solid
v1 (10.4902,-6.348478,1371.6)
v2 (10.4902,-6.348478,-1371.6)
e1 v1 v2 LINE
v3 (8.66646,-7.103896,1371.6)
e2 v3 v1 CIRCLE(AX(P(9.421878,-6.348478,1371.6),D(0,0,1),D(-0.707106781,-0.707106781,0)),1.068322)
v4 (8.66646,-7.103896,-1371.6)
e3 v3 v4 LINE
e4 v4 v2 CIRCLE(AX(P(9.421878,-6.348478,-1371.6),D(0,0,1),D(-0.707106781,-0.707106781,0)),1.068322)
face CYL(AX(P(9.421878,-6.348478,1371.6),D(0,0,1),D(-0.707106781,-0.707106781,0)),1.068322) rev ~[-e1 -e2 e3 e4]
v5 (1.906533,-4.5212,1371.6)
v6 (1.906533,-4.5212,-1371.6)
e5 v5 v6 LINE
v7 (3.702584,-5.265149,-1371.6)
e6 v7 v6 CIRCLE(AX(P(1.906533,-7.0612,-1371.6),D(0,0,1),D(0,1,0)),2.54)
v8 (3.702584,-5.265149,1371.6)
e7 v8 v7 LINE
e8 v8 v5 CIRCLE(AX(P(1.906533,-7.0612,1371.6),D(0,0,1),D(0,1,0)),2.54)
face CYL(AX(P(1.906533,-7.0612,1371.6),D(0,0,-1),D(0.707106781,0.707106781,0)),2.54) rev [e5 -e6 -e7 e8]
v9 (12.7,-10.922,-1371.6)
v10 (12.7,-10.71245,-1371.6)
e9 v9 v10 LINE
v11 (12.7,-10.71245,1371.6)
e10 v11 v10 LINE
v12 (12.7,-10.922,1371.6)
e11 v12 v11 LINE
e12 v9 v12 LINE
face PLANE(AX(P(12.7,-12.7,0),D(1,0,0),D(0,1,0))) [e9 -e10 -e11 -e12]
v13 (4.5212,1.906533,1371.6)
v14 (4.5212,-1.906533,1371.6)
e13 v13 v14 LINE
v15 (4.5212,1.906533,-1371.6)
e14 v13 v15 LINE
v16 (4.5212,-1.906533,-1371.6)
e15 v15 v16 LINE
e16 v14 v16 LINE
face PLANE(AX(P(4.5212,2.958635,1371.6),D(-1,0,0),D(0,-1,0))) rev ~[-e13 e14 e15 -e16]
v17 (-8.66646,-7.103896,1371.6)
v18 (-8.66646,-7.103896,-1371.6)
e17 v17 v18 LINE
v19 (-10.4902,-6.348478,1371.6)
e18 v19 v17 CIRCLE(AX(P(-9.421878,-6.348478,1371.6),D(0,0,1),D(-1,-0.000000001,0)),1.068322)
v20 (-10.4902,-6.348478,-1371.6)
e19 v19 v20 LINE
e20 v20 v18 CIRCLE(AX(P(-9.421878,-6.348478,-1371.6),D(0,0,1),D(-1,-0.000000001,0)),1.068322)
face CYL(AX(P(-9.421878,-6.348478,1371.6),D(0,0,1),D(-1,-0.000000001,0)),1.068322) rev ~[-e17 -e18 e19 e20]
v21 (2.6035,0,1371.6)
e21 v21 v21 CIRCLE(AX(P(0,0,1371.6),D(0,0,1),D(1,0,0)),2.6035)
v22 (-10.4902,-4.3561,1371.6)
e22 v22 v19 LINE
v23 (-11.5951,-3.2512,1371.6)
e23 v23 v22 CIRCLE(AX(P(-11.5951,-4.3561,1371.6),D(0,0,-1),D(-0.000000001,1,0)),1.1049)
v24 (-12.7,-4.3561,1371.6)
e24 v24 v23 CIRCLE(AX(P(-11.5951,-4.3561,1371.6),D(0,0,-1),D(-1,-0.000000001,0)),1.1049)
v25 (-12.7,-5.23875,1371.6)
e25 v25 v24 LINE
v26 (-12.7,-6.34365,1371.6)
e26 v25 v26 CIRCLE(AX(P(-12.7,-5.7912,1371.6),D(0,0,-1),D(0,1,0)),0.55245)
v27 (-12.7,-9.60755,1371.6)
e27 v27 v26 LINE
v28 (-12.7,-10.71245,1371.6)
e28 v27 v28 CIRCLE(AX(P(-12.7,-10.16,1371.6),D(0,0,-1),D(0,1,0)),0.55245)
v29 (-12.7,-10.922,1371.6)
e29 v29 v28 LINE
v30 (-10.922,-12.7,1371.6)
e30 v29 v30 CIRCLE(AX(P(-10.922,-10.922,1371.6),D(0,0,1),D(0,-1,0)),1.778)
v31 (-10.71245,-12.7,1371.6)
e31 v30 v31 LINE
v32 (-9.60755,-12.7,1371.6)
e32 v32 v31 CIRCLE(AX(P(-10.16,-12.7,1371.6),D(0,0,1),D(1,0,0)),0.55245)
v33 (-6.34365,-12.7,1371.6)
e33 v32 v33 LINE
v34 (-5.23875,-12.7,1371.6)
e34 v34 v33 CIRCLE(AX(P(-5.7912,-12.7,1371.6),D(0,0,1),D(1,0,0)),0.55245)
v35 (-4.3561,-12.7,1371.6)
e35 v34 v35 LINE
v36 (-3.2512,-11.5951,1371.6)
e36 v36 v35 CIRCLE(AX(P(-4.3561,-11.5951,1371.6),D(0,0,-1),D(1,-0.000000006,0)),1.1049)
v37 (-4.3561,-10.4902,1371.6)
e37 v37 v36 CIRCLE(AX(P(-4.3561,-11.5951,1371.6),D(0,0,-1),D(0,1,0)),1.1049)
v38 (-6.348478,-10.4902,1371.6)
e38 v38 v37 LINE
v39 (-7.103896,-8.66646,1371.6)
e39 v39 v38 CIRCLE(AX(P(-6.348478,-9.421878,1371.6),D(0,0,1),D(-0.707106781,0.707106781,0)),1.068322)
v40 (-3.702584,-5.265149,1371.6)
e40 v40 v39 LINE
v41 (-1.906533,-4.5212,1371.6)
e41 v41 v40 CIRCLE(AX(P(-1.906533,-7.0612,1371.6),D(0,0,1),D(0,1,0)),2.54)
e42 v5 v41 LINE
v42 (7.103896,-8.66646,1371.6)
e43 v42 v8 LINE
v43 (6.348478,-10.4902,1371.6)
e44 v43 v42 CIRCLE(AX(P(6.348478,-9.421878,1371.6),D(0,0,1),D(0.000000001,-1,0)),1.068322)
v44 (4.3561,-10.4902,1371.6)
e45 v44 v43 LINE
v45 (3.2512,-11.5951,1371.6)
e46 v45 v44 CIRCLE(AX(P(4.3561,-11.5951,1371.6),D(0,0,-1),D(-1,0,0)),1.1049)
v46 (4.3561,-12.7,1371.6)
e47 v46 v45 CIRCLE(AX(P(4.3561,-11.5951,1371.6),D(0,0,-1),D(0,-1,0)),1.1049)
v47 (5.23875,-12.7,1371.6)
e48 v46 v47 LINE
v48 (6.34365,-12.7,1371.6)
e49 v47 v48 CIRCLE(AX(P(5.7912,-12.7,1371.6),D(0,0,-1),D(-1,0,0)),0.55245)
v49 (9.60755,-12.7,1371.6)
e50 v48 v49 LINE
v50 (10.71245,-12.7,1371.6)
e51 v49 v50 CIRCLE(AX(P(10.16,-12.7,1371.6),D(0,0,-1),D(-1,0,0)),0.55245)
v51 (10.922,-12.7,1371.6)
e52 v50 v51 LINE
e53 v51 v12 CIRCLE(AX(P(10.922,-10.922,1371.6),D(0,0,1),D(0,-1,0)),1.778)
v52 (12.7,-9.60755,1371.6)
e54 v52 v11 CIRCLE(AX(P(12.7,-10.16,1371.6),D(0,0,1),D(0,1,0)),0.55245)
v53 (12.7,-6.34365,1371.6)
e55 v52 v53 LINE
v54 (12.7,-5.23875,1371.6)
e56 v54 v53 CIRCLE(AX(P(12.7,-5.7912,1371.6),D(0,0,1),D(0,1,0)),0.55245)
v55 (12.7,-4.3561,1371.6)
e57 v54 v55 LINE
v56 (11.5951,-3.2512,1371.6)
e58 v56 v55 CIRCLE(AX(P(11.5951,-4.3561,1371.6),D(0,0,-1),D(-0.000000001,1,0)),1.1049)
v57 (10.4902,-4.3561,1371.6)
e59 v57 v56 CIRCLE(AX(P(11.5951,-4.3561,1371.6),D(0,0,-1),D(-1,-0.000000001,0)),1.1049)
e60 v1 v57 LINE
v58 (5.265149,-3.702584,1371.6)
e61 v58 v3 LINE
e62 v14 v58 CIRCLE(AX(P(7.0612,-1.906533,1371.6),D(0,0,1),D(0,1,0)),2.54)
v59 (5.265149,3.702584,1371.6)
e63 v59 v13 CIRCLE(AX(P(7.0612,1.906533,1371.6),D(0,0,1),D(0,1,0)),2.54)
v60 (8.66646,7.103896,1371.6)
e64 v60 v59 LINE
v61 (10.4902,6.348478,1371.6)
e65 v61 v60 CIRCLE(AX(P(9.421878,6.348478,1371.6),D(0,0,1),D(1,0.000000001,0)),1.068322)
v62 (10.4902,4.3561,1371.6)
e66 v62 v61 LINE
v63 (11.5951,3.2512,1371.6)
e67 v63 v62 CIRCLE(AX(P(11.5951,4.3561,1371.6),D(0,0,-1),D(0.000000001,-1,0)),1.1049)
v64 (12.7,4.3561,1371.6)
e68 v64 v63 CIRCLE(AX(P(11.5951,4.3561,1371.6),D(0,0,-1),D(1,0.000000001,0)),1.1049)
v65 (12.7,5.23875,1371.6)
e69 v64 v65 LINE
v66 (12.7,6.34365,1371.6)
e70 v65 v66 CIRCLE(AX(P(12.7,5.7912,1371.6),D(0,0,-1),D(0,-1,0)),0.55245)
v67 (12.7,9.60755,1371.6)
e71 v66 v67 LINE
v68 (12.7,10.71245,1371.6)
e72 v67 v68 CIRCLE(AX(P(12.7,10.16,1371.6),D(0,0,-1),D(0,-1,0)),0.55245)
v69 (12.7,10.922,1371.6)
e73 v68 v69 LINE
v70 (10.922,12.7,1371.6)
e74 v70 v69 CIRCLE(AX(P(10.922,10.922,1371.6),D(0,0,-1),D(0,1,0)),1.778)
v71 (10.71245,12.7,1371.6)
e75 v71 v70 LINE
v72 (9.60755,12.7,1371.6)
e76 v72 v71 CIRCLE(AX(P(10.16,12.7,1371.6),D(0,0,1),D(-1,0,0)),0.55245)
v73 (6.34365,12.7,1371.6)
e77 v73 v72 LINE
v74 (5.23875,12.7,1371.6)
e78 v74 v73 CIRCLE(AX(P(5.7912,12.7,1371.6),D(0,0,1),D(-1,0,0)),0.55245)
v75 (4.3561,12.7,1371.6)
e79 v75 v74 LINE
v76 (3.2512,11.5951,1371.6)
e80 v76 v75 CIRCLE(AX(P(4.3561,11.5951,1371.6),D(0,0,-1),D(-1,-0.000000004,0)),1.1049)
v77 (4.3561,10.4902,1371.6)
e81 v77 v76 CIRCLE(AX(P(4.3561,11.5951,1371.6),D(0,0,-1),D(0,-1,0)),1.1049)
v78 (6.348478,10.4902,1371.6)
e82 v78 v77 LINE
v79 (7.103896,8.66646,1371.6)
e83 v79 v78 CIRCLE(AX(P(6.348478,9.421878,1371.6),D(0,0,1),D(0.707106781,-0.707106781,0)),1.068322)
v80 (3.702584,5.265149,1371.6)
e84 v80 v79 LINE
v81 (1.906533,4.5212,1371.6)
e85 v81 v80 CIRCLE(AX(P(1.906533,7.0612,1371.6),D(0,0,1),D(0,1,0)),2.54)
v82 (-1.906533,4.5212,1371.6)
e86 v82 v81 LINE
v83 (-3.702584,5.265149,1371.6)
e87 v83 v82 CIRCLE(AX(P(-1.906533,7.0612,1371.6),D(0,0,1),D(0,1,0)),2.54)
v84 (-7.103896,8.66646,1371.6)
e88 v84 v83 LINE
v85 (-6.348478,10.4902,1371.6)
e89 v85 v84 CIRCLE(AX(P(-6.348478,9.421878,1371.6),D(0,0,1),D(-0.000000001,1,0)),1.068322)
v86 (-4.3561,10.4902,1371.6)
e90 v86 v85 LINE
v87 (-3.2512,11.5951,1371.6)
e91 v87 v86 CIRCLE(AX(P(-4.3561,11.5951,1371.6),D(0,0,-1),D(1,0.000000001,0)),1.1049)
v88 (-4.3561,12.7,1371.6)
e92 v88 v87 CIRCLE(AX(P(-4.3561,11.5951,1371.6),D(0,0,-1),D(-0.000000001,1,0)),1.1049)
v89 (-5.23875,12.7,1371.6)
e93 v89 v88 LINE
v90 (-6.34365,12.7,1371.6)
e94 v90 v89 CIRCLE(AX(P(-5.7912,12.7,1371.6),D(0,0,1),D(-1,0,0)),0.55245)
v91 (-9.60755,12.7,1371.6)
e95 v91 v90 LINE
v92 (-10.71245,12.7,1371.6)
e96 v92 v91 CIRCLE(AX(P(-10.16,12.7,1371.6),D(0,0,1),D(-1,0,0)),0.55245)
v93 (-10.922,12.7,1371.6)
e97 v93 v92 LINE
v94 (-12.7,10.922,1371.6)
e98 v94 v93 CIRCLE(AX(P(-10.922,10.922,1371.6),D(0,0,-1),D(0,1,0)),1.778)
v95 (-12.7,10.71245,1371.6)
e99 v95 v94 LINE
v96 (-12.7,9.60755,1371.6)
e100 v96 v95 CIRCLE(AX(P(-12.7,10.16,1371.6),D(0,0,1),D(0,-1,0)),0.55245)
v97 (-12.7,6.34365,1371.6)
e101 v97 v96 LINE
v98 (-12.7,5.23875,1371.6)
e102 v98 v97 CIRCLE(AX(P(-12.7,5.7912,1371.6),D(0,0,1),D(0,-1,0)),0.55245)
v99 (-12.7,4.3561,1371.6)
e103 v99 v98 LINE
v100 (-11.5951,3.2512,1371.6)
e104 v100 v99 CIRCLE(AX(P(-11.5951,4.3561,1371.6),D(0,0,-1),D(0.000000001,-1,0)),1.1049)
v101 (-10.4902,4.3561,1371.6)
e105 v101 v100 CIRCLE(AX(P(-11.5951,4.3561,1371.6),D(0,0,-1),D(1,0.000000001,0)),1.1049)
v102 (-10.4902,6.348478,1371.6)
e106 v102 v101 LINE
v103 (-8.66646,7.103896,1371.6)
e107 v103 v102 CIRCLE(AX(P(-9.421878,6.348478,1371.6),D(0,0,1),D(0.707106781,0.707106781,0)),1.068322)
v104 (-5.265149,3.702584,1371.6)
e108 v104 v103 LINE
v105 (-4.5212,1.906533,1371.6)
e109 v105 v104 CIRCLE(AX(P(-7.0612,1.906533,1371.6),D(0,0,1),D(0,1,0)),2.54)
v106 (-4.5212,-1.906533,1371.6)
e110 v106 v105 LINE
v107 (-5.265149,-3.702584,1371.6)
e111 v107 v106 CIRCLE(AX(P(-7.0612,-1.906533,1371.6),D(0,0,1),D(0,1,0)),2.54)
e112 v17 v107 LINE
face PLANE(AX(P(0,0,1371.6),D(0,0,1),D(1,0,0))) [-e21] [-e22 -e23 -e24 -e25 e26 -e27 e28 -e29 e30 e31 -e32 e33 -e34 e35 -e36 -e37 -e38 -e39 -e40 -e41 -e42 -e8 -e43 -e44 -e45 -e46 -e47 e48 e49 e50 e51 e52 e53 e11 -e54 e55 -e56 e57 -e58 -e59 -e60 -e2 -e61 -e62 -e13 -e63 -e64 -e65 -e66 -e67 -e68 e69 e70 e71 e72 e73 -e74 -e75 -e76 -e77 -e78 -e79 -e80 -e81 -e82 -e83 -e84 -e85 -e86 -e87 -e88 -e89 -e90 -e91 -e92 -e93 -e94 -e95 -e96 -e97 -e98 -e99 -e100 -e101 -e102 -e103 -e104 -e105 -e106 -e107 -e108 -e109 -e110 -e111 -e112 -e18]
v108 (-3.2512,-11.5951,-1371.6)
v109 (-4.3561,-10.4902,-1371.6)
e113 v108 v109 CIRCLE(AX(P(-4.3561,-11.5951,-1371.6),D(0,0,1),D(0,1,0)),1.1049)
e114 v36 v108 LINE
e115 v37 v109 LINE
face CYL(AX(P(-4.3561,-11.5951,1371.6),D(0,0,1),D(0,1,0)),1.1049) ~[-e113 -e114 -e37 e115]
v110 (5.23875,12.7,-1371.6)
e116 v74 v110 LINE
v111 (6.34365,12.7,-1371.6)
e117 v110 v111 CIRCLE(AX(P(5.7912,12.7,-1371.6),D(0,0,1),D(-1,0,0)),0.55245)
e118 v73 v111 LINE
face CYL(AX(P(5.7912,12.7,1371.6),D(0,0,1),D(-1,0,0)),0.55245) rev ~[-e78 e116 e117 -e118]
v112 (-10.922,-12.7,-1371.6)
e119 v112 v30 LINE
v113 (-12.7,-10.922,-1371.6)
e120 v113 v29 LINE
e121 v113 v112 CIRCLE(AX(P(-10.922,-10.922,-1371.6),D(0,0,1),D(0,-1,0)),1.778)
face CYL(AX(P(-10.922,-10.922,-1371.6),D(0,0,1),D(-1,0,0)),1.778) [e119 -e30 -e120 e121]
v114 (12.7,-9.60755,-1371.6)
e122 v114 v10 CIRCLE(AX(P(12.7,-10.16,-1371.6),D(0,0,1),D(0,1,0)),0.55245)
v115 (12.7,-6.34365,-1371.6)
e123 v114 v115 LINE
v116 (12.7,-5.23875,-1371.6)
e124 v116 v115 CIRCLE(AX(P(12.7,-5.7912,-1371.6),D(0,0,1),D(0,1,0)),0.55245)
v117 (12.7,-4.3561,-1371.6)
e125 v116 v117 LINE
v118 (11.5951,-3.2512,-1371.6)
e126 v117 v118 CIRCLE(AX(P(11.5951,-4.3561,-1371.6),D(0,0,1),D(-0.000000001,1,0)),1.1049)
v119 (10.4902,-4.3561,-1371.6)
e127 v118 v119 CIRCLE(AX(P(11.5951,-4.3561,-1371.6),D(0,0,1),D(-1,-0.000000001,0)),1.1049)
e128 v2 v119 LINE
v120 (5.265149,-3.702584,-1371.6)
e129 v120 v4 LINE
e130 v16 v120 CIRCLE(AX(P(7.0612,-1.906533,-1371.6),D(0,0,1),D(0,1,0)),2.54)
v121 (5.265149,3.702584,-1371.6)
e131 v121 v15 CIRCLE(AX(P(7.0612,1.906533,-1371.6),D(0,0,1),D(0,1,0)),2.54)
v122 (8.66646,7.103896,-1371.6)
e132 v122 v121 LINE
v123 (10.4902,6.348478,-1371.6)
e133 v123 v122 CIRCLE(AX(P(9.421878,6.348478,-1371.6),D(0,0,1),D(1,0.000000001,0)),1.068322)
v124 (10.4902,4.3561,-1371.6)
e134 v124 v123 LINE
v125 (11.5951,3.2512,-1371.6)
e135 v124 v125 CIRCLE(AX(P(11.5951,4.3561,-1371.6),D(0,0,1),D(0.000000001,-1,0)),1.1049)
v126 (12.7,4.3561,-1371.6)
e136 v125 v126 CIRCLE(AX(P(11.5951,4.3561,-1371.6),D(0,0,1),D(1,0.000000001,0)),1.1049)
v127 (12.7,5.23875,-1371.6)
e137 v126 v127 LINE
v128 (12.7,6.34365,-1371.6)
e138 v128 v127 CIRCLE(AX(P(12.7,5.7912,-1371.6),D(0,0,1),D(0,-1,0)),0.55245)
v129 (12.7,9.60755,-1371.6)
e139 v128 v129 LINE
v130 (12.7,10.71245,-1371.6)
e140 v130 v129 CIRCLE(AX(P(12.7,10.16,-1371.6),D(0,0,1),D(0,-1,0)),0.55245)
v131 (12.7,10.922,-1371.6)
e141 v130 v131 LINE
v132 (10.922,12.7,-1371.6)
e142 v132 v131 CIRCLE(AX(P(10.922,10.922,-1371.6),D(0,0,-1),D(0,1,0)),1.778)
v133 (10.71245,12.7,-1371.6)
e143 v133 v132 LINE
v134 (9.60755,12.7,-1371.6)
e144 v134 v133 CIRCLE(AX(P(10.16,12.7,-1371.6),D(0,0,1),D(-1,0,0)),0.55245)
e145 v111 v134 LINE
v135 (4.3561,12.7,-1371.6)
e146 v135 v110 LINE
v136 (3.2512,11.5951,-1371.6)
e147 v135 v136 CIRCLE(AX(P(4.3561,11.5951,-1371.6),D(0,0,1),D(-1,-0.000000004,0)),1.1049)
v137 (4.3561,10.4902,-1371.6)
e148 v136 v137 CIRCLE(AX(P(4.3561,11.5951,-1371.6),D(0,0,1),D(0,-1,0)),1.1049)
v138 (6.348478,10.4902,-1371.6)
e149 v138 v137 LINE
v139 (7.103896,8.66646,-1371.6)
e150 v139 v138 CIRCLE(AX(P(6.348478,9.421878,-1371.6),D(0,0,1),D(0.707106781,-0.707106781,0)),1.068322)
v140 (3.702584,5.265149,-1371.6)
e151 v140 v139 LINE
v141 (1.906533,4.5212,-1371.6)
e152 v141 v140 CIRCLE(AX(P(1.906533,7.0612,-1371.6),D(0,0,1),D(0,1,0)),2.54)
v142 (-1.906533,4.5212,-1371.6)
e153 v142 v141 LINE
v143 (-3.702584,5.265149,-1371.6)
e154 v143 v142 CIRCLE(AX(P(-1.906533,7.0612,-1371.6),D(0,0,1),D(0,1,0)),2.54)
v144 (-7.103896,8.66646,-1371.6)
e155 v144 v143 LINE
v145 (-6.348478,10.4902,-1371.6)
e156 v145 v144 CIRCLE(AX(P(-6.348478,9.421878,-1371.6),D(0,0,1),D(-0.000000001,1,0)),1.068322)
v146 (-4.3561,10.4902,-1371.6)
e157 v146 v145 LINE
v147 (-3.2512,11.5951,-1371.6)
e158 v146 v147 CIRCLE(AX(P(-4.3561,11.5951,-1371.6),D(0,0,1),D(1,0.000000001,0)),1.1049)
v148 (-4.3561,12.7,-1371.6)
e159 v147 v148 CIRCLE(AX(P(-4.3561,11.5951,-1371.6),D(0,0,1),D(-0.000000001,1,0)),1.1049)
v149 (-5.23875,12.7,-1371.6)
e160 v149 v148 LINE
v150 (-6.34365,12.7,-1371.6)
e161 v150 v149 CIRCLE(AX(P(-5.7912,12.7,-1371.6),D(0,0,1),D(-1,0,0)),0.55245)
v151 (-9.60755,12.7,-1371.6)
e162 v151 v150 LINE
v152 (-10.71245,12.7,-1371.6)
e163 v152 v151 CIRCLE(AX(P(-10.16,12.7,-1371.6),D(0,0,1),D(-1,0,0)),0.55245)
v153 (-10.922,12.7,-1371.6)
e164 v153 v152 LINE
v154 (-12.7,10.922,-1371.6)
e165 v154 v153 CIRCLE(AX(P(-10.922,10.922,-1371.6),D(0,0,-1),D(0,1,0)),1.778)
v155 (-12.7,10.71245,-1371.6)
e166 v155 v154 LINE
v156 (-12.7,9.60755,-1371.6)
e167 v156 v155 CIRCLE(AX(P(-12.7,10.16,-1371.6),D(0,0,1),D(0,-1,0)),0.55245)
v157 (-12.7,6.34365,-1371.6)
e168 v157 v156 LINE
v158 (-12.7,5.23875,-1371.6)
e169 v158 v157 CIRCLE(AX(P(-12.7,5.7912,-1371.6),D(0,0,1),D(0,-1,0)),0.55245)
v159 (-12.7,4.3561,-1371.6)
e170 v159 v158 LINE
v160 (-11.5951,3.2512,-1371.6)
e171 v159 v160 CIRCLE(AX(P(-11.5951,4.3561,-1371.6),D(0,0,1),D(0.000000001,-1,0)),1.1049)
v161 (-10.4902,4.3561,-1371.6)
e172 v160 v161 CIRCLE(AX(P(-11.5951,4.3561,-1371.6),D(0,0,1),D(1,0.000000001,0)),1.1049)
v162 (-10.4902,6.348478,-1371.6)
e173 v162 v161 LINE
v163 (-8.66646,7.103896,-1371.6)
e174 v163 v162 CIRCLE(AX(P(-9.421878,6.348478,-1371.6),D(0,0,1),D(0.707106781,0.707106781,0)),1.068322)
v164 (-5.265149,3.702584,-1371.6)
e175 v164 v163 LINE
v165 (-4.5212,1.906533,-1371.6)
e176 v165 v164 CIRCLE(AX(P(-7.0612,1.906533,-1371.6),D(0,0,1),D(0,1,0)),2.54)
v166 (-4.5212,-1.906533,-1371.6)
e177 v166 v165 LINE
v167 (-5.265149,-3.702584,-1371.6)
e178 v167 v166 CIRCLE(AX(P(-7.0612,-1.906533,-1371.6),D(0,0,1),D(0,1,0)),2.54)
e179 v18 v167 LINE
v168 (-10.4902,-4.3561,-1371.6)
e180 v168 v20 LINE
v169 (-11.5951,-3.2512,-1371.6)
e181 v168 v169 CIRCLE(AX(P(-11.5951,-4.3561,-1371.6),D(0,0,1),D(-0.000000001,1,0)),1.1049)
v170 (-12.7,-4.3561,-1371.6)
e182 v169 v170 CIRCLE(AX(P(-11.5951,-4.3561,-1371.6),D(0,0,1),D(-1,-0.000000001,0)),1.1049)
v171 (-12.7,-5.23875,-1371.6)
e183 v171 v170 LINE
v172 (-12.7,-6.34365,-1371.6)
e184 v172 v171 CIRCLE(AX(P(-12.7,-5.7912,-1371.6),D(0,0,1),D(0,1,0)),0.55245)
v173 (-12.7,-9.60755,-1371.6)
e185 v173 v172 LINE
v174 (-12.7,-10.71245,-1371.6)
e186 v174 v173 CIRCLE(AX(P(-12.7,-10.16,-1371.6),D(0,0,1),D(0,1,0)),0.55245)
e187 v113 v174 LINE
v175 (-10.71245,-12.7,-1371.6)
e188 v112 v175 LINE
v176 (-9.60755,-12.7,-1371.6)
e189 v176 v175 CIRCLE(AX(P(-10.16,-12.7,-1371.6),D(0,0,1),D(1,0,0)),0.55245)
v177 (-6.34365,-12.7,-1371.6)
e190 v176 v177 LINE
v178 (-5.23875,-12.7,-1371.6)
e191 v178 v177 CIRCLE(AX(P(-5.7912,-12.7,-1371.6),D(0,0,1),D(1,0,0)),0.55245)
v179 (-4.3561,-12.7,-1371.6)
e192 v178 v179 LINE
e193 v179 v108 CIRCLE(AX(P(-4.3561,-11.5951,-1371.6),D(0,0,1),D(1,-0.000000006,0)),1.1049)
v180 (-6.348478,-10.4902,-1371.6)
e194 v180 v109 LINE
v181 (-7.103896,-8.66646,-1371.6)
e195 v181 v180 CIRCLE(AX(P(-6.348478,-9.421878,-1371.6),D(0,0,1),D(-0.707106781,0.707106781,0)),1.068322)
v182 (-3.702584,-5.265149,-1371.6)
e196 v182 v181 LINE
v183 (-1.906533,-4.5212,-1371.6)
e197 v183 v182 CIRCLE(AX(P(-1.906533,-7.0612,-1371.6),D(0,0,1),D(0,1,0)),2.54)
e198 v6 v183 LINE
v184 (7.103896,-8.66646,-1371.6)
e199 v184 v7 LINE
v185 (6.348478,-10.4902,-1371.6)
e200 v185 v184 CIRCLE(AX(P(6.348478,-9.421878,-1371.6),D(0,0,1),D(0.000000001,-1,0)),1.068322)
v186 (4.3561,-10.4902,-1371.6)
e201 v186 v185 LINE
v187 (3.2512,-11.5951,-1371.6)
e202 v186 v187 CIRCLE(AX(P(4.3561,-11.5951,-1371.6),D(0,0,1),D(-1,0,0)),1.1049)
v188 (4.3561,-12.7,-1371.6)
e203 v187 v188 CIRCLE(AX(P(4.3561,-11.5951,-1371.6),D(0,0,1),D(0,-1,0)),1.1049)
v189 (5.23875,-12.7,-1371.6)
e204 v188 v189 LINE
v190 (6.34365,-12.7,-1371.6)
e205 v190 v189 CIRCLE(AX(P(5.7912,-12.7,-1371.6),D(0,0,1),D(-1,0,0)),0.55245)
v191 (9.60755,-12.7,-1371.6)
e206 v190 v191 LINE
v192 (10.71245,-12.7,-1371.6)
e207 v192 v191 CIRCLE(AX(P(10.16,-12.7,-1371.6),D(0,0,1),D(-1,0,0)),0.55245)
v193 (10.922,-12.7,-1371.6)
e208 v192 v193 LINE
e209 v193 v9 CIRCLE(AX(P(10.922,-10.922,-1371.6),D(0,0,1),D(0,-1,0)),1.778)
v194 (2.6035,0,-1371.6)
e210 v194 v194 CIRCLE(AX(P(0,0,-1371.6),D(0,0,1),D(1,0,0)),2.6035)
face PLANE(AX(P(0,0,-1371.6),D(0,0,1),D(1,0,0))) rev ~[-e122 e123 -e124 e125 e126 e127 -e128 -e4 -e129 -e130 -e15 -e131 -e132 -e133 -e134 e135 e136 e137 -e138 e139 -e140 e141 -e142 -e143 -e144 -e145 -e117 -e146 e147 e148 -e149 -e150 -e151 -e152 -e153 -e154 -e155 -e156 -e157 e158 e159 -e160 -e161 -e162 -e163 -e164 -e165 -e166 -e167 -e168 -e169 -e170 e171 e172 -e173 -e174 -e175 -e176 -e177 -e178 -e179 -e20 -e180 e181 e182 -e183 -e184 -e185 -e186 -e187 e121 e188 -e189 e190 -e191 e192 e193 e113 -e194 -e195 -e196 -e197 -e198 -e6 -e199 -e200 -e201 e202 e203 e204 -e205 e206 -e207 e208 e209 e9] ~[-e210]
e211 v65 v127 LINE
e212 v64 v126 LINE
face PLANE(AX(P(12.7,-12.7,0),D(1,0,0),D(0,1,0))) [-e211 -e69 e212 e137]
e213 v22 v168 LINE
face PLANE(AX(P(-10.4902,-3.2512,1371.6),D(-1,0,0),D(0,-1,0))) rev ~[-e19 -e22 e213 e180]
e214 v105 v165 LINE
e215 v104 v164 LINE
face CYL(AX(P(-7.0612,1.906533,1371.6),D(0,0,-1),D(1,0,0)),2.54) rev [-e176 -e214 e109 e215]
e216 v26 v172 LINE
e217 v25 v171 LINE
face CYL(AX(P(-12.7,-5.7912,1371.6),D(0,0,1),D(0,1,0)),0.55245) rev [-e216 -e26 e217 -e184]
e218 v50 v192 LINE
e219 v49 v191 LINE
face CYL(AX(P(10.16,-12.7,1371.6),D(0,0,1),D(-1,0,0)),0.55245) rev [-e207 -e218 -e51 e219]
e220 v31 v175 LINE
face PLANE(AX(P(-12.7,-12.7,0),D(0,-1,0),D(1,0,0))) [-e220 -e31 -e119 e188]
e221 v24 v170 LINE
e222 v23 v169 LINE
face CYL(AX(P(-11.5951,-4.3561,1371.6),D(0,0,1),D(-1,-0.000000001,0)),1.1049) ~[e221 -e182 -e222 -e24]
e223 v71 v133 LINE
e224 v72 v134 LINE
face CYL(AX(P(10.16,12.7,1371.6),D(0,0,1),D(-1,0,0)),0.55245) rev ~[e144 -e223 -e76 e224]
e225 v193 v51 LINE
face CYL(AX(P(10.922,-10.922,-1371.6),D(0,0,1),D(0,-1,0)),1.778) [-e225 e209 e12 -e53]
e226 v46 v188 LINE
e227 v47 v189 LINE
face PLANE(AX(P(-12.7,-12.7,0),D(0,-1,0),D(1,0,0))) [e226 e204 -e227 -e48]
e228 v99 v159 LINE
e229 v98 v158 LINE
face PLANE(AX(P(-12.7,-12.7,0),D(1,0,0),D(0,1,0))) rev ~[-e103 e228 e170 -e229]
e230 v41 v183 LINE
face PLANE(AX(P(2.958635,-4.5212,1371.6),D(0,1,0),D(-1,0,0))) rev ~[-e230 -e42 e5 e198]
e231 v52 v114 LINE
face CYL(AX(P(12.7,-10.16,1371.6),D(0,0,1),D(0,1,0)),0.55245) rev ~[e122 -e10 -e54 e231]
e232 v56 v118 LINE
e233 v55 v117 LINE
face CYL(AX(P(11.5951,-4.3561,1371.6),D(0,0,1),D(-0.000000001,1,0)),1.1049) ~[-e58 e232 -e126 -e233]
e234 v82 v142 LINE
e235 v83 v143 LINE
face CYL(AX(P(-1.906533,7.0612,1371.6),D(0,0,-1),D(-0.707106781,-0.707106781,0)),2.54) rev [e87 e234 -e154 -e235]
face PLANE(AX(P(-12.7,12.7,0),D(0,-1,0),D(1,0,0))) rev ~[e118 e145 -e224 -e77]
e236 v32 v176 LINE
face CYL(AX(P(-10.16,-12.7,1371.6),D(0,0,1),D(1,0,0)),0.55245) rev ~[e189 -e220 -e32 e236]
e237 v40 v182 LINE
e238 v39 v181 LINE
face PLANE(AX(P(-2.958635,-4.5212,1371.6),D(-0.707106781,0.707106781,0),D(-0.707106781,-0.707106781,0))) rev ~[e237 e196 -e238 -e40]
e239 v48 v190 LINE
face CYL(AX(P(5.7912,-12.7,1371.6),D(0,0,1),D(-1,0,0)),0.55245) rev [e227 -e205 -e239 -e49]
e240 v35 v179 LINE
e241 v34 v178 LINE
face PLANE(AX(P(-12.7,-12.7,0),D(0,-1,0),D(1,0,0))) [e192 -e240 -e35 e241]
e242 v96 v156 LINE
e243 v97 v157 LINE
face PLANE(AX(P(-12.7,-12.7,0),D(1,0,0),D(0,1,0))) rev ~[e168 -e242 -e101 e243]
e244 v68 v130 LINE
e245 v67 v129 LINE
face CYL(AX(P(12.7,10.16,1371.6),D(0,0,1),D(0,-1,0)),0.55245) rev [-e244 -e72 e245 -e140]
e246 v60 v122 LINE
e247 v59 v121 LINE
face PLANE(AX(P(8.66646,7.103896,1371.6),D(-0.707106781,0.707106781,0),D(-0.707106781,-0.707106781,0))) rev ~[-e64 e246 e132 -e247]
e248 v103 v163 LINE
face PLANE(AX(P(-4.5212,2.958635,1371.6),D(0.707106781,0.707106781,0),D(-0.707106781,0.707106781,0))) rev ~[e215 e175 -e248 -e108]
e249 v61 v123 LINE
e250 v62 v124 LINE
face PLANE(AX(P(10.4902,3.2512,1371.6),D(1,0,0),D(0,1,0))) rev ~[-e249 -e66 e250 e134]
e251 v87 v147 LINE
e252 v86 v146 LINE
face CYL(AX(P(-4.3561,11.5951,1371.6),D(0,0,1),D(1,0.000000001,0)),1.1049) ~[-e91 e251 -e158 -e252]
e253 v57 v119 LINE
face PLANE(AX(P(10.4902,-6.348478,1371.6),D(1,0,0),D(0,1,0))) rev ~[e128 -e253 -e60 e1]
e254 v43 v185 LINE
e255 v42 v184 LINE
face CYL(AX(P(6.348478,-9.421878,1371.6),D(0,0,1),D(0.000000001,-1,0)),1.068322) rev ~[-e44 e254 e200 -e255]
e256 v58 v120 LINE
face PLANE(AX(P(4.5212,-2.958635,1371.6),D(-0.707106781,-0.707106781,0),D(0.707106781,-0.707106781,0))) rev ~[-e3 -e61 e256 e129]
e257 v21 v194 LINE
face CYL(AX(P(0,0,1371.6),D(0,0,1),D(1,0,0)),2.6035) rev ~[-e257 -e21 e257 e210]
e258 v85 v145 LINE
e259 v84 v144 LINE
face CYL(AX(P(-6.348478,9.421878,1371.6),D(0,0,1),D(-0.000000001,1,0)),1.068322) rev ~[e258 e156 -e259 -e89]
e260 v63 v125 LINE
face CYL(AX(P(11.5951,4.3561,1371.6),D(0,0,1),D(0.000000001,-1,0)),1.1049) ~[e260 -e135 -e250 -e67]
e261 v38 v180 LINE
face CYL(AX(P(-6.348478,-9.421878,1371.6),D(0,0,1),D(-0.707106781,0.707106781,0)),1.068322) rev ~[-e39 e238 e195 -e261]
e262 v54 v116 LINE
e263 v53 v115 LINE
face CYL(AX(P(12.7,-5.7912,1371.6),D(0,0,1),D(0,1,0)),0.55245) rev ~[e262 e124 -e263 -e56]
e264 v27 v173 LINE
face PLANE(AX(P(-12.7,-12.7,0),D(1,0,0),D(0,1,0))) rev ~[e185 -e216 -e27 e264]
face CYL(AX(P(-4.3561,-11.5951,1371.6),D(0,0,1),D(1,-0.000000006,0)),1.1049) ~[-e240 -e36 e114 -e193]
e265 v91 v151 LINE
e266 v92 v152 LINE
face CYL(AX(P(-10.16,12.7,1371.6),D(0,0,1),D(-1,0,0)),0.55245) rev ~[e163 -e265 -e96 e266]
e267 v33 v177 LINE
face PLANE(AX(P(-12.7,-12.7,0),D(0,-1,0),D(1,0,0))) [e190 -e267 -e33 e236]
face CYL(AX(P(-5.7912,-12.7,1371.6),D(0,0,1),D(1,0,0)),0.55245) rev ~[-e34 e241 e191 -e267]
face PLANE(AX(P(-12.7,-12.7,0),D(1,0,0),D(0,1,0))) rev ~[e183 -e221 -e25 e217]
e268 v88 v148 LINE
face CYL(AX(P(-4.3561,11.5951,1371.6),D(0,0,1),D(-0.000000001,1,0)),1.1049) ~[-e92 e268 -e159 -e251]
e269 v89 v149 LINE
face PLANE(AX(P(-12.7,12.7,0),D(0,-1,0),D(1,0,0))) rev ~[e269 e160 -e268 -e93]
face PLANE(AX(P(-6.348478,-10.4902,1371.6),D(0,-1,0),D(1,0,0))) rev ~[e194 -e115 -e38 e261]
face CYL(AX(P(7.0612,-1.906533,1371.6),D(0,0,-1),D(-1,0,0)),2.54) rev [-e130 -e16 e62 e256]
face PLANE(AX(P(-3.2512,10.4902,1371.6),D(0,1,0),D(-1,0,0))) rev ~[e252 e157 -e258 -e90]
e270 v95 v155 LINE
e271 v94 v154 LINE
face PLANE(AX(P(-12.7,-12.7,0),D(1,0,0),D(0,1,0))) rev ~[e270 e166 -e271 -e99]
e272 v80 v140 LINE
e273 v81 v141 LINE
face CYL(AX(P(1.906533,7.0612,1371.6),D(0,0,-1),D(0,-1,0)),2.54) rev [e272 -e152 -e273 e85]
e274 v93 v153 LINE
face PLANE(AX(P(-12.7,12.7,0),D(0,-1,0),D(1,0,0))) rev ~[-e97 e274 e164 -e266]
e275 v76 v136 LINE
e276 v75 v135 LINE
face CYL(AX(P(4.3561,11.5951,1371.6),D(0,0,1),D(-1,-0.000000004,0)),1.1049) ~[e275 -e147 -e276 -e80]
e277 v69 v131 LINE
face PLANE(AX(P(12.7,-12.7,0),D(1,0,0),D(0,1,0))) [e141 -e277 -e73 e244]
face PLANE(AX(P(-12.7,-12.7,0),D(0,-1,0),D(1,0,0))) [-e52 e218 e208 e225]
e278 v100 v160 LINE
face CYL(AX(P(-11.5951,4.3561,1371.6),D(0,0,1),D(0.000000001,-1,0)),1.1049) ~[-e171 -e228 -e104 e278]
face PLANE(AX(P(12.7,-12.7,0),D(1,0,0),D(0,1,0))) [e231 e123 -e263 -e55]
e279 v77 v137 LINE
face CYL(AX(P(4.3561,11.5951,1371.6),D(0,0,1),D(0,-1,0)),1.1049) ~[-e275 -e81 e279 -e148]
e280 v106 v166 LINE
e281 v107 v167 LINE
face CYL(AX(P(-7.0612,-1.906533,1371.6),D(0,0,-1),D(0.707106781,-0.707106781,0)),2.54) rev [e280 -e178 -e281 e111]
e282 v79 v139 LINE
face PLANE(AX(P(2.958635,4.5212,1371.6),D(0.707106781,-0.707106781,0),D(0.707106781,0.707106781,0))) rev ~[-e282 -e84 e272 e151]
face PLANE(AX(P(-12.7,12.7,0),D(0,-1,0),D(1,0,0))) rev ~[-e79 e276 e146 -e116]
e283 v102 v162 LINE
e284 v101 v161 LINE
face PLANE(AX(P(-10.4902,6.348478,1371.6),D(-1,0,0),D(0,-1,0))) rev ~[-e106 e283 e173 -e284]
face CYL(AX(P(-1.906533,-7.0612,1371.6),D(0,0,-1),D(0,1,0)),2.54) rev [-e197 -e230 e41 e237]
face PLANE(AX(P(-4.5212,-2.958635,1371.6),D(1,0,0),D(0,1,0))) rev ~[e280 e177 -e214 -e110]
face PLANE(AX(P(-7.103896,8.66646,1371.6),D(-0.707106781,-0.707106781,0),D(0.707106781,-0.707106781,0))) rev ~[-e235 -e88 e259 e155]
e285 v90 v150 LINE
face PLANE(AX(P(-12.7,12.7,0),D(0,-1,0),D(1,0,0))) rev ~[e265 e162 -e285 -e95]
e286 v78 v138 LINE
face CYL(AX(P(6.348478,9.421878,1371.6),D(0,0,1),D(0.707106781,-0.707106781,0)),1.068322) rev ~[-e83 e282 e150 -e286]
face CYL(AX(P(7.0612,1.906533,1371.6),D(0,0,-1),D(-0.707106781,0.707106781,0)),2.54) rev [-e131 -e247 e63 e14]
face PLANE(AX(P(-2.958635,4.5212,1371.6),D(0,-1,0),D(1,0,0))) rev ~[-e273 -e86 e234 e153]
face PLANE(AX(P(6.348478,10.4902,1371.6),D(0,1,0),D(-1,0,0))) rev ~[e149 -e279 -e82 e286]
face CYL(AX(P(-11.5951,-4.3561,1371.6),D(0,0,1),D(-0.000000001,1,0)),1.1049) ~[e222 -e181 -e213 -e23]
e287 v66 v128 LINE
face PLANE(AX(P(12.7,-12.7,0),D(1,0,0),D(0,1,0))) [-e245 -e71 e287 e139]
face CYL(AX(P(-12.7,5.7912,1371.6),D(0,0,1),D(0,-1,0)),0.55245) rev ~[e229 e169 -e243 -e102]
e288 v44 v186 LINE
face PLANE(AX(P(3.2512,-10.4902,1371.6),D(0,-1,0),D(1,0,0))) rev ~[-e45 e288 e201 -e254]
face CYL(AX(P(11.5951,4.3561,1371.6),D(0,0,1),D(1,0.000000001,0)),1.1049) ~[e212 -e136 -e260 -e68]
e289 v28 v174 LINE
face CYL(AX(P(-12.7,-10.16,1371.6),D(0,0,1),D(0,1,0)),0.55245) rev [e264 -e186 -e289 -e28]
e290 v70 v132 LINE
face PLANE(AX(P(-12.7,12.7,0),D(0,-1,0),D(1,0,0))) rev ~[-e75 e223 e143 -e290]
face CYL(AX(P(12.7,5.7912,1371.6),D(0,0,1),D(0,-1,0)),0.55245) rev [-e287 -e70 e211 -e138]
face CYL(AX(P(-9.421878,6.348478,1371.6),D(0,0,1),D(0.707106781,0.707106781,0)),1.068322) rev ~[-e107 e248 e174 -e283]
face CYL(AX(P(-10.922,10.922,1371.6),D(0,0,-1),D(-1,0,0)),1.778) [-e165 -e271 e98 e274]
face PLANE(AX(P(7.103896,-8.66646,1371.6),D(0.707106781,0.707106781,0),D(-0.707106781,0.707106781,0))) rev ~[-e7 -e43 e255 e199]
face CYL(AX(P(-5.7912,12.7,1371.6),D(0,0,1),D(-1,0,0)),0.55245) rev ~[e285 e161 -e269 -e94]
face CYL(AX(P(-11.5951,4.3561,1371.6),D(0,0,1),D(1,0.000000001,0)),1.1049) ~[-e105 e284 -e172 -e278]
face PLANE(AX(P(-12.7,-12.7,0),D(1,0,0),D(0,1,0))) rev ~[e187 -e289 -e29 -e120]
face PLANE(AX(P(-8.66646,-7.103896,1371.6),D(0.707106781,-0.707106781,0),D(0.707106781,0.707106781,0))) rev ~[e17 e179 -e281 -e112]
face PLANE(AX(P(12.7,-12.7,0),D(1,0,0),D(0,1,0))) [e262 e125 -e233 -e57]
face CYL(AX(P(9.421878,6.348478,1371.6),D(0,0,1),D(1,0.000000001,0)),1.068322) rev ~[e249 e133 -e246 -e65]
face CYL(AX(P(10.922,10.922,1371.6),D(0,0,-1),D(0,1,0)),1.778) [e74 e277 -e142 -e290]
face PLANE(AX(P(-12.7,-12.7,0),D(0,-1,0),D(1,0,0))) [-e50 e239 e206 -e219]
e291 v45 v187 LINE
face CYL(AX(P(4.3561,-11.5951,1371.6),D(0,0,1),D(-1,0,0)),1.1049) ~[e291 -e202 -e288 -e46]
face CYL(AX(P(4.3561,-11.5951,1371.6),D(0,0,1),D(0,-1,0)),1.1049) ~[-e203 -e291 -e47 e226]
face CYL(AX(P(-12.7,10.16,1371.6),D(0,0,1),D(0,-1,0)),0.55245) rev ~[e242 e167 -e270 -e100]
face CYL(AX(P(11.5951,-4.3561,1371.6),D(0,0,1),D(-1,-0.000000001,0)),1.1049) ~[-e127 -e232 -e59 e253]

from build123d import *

# Parameters (mm, degrees)
SKETCH3_W                = 25.4
SKETCH3_H                = 25.4
BOSS_EXTRUDE1_DEPTH      = 1371.6
BOSS_EXTRUDE1_DEPTH_BACK = 1371.6
SKETCH4_R                = 2.6035
CUT_EXTRUDE1_DEPTH       = 2744.2
CUT_EXTRUDE2_DEPTH       = 2744.2
FILLET1_R                = 2.54
FILLET2_R                = 1.778


with BuildPart() as part:
    # Sketch3 → Boss-Extrude1 (new body, two sides)
    with BuildSketch(Plane.XY) as boss_extrude1_sk:
        Rectangle(SKETCH3_W, SKETCH3_H)
    extrude(amount=BOSS_EXTRUDE1_DEPTH)
    extrude(boss_extrude1_sk.sketch, amount=-BOSS_EXTRUDE1_DEPTH_BACK)

    # Sketch4 → Cut-Extrude1 (cut, through all)
    with BuildSketch(Plane.XY.offset(1371.6)):
        with BuildLine():
            Line((3.2512, 12.7), (-3.2512, 12.7))
            Line((-3.2512, 12.7), (-3.2512, 10.4902))
            Line((-3.2512, 10.4902), (-6.348478019, 10.4902))
            ThreePointArc((-6.348478019, 10.4902), (-7.335478831, 9.830707141), (-7.103895736, 8.666460301))
            Line((-7.103895736, 8.666460301), (-2.958635435, 4.5212))
            Line((-2.958635435, 4.5212), (2.958635435, 4.5212))
            Line((2.958635435, 4.5212), (7.103895736, 8.666460301))
            ThreePointArc((7.103895736, 8.666460301), (7.335478831, 9.830707141), (6.348478019, 10.4902))
            Line((6.348478019, 10.4902), (3.2512, 10.4902))
            Line((3.2512, 10.4902), (3.2512, 12.7))
        make_face()
        with BuildLine():
            Line((12.7, -3.2512), (12.7, 3.2512))
            Line((12.7, 3.2512), (10.4902, 3.2512))
            Line((10.4902, 3.2512), (10.4902, 6.348478019))
            ThreePointArc((10.4902, 6.348478019), (9.830707141, 7.335478831), (8.666460301, 7.103895736))
            Line((8.666460301, 7.103895736), (4.5212, 2.958635435))
            Line((4.5212, 2.958635435), (4.5212, -2.958635435))
            Line((4.5212, -2.958635435), (8.666460301, -7.103895736))
            ThreePointArc((8.666460301, -7.103895736), (9.830707141, -7.335478831), (10.4902, -6.348478019))
            Line((10.4902, -6.348478019), (10.4902, -3.2512))
            Line((10.4902, -3.2512), (12.7, -3.2512))
        make_face()
        with BuildLine():
            Line((-3.2512, -10.4902), (-3.2512, -12.7))
            Line((-3.2512, -12.7), (3.2512, -12.7))
            Line((3.2512, -12.7), (3.2512, -10.4902))
            Line((3.2512, -10.4902), (6.348478019, -10.4902))
            ThreePointArc((6.348478019, -10.4902), (7.335478831, -9.830707141), (7.103895736, -8.666460301))
            Line((7.103895736, -8.666460301), (2.958635435, -4.5212))
            Line((2.958635435, -4.5212), (-2.958635435, -4.5212))
            Line((-2.958635435, -4.5212), (-7.103895736, -8.666460301))
            ThreePointArc((-7.103895736, -8.666460301), (-7.335478831, -9.830707141), (-6.348478019, -10.4902))
            Line((-6.348478019, -10.4902), (-3.2512, -10.4902))
        make_face()
        with BuildLine():
            Line((-10.4902, 3.2512), (-12.7, 3.2512))
            Line((-12.7, 3.2512), (-12.7, -3.2512))
            Line((-12.7, -3.2512), (-10.4902, -3.2512))
            Line((-10.4902, -3.2512), (-10.4902, -6.348478019))
            ThreePointArc((-10.4902, -6.348478019), (-9.830707141, -7.335478831), (-8.666460301, -7.103895736))
            Line((-8.666460301, -7.103895736), (-4.5212, -2.958635435))
            Line((-4.5212, -2.958635435), (-4.5212, 2.958635435))
            Line((-4.5212, 2.958635435), (-8.666460301, 7.103895736))
            ThreePointArc((-8.666460301, 7.103895736), (-9.830707141, 7.335478831), (-10.4902, 6.348478019))
            Line((-10.4902, 6.348478019), (-10.4902, 3.2512))
        make_face()
        Circle(SKETCH4_R)
    extrude(amount=-CUT_EXTRUDE1_DEPTH, mode=Mode.SUBTRACT)

    # Sketch5 → Cut-Extrude2 (cut, through all)
    with BuildSketch(Plane.XY.offset(1371.6)):
        with BuildLine():
            ThreePointArc((-11.5951, 3.2512), (-12.376382283, 3.574817717), (-12.7, 4.3561))
            Line((-12.7, 4.3561), (-12.7, 3.2512))
            Line((-12.7, 3.2512), (-11.5951, 3.2512))
        make_face()
        with BuildLine():
            ThreePointArc((-10.4902, 4.3561), (-10.813817717, 3.574817717), (-11.5951, 3.2512))
            Line((-11.5951, 3.2512), (-10.4902, 3.2512))
            Line((-10.4902, 3.2512), (-10.4902, 4.3561))
        make_face()
        with BuildLine():
            Line((-12.7, -3.2512), (-12.7, -4.3561))
            ThreePointArc((-12.7, -4.3561), (-12.376382283, -3.574817717), (-11.5951, -3.2512))
            Line((-11.5951, -3.2512), (-12.7, -3.2512))
        make_face()
        with BuildLine():
            Line((-10.4902, -3.2512), (-11.5951, -3.2512))
            ThreePointArc((-11.5951, -3.2512), (-10.813817717, -3.574817717), (-10.4902, -4.3561))
            Line((-10.4902, -4.3561), (-10.4902, -3.2512))
        make_face()
        with BuildLine():
            Line((-3.2512, -11.595100007), (-3.2512, -10.4902))
            Line((-3.2512, -10.4902), (-4.3561, -10.4902))
            ThreePointArc((-4.3561, -10.4902), (-3.574817715, -10.81381772), (-3.2512, -11.595100007))
        make_face()
        with BuildLine():
            Line((-3.2512, -12.7), (-3.2512, -11.595100007))
            ThreePointArc((-3.2512, -11.595100007), (-3.57481772, -12.376382285), (-4.3561, -12.7))
            Line((-4.3561, -12.7), (-3.2512, -12.7))
        make_face()
        with BuildLine():
            Line((3.2512, -10.4902), (3.2512, -11.5951))
            ThreePointArc((3.2512, -11.5951), (3.574817718, -10.813817717), (4.3561, -10.4902))
            Line((4.3561, -10.4902), (3.2512, -10.4902))
        make_face()
        with BuildLine():
            Line((3.2512, -12.7), (4.3561, -12.7))
            ThreePointArc((4.3561, -12.7), (3.574817717, -12.376382282), (3.2512, -11.5951))
            Line((3.2512, -11.5951), (3.2512, -12.7))
        make_face()
        with BuildLine():
            Line((11.5951, -3.2512), (10.4902, -3.2512))
            Line((10.4902, -3.2512), (10.4902, -4.3561))
            ThreePointArc((10.4902, -4.3561), (10.813817717, -3.574817717), (11.5951, -3.2512))
        make_face()
        with BuildLine():
            Line((12.7, -3.2512), (11.5951, -3.2512))
            ThreePointArc((11.5951, -3.2512), (12.376382283, -3.574817717), (12.7, -4.3561))
            Line((12.7, -4.3561), (12.7, -3.2512))
        make_face()
        with BuildLine():
            Line((10.4902, 3.2512), (11.5951, 3.2512))
            ThreePointArc((11.5951, 3.2512), (10.813817717, 3.574817717), (10.4902, 4.3561))
            Line((10.4902, 4.3561), (10.4902, 3.2512))
        make_face()
        with BuildLine():
            Line((12.7, 3.2512), (12.7, 4.3561))
            ThreePointArc((12.7, 4.3561), (12.376382283, 3.574817717), (11.5951, 3.2512))
            Line((11.5951, 3.2512), (12.7, 3.2512))
        make_face()
        with BuildLine():
            Line((3.2512, 12.7), (3.2512, 11.595099996))
            ThreePointArc((3.2512, 11.595099996), (3.574817716, 12.376382281), (4.3561, 12.7))
            Line((4.3561, 12.7), (3.2512, 12.7))
        make_face()
        with BuildLine():
            Line((3.2512, 11.595099996), (3.2512, 10.4902))
            Line((3.2512, 10.4902), (4.3561, 10.4902))
            ThreePointArc((4.3561, 10.4902), (3.574817719, 10.813817716), (3.2512, 11.595099996))
        make_face()
        with BuildLine():
            Line((-3.2512, 12.7), (-4.3561, 12.7))
            ThreePointArc((-4.3561, 12.7), (-3.574817717, 12.376382283), (-3.2512, 11.5951))
            Line((-3.2512, 11.5951), (-3.2512, 12.7))
        make_face()
        with BuildLine():
            Line((-3.2512, 10.4902), (-3.2512, 11.5951))
            ThreePointArc((-3.2512, 11.5951), (-3.574817717, 10.813817717), (-4.3561, 10.4902))
            Line((-4.3561, 10.4902), (-3.2512, 10.4902))
        make_face()
        with BuildLine():
            ThreePointArc((-12.7, 5.23875), (-12.14755, 5.7912), (-12.7, 6.34365))
            Line((-12.7, 6.34365), (-12.7, 5.23875))
        make_face()
        with BuildLine():
            ThreePointArc((-12.7, 9.60755), (-12.14755, 10.16), (-12.7, 10.71245))
            Line((-12.7, 10.71245), (-12.7, 9.60755))
        make_face()
        with BuildLine():
            ThreePointArc((-10.71245, 12.7), (-10.16, 12.14755), (-9.60755, 12.7))
            Line((-9.60755, 12.7), (-10.71245, 12.7))
        make_face()
        with BuildLine():
            ThreePointArc((-6.34365, 12.7), (-5.7912, 12.14755), (-5.23875, 12.7))
            Line((-5.23875, 12.7), (-6.34365, 12.7))
        make_face()
        with BuildLine():
            Line((6.34365, 12.7), (5.23875, 12.7))
            ThreePointArc((5.23875, 12.7), (5.7912, 12.14755), (6.34365, 12.7))
        make_face()
        with BuildLine():
            Line((10.71245, 12.7), (9.60755, 12.7))
            ThreePointArc((9.60755, 12.7), (10.16, 12.14755), (10.71245, 12.7))
        make_face()
        with BuildLine():
            Line((12.7, 10.71245), (12.7, 9.60755))
            ThreePointArc((12.7, 9.60755), (12.14755, 10.16), (12.7, 10.71245))
        make_face()
        with BuildLine():
            Line((12.7, 6.34365), (12.7, 5.23875))
            ThreePointArc((12.7, 5.23875), (12.14755, 5.7912), (12.7, 6.34365))
        make_face()
        with BuildLine():
            Line((-12.7, -6.34365), (-12.7, -5.23875))
            ThreePointArc((-12.7, -5.23875), (-12.14755, -5.7912), (-12.7, -6.34365))
        make_face()
        with BuildLine():
            Line((-12.7, -10.71245), (-12.7, -9.60755))
            ThreePointArc((-12.7, -9.60755), (-12.14755, -10.16), (-12.7, -10.71245))
        make_face()
        with BuildLine():
            Line((-10.71245, -12.7), (-9.60755, -12.7))
            ThreePointArc((-9.60755, -12.7), (-10.16, -12.14755), (-10.71245, -12.7))
        make_face()
        with BuildLine():
            Line((-6.34365, -12.7), (-5.23875, -12.7))
            ThreePointArc((-5.23875, -12.7), (-5.7912, -12.14755), (-6.34365, -12.7))
        make_face()
        with BuildLine():
            Line((12.7, -10.71245), (12.7, -9.60755))
            ThreePointArc((12.7, -9.60755), (12.14755, -10.16), (12.7, -10.71245))
        make_face()
        with BuildLine():
            Line((12.7, -6.34365), (12.7, -5.23875))
            ThreePointArc((12.7, -5.23875), (12.14755, -5.7912), (12.7, -6.34365))
        make_face()
        with BuildLine():
            Line((10.71245, -12.7), (9.60755, -12.7))
            ThreePointArc((9.60755, -12.7), (10.16, -12.14755), (10.71245, -12.7))
        make_face()
        with BuildLine():
            Line((6.34365, -12.7), (5.23875, -12.7))
            ThreePointArc((5.23875, -12.7), (5.7912, -12.14755), (6.34365, -12.7))
        make_face()
    extrude(amount=-CUT_EXTRUDE2_DEPTH, mode=Mode.SUBTRACT)

    # Fillet1
    fillet1_edges = [part.edges().sort_by_distance(p)[0] for p in [
        (2.958635435, 4.5212, 0),
        (-2.958635435, 4.5212, 0),
        (-2.958635435, -4.5212, 0),
        (2.958635435, -4.5212, 0),
        (4.5212, -2.958635435, 0),
        (4.5212, 2.958635435, 0),
        (-4.5212, 2.958635435, 0),
        (-4.5212, -2.958635435, 0),
    ]]
    fillet(fillet1_edges, radius=FILLET1_R)

    # Fillet2
    fillet2_edges = [part.edges().sort_by_distance(p)[0] for p in [
        (-12.7, 12.7, 0),
        (12.7, 12.7, 0),
        (12.7, -12.7, 0),
        (-12.7, -12.7, 0),
    ]]
    fillet(fillet2_edges, radius=FILLET2_R)


solid = part.part
